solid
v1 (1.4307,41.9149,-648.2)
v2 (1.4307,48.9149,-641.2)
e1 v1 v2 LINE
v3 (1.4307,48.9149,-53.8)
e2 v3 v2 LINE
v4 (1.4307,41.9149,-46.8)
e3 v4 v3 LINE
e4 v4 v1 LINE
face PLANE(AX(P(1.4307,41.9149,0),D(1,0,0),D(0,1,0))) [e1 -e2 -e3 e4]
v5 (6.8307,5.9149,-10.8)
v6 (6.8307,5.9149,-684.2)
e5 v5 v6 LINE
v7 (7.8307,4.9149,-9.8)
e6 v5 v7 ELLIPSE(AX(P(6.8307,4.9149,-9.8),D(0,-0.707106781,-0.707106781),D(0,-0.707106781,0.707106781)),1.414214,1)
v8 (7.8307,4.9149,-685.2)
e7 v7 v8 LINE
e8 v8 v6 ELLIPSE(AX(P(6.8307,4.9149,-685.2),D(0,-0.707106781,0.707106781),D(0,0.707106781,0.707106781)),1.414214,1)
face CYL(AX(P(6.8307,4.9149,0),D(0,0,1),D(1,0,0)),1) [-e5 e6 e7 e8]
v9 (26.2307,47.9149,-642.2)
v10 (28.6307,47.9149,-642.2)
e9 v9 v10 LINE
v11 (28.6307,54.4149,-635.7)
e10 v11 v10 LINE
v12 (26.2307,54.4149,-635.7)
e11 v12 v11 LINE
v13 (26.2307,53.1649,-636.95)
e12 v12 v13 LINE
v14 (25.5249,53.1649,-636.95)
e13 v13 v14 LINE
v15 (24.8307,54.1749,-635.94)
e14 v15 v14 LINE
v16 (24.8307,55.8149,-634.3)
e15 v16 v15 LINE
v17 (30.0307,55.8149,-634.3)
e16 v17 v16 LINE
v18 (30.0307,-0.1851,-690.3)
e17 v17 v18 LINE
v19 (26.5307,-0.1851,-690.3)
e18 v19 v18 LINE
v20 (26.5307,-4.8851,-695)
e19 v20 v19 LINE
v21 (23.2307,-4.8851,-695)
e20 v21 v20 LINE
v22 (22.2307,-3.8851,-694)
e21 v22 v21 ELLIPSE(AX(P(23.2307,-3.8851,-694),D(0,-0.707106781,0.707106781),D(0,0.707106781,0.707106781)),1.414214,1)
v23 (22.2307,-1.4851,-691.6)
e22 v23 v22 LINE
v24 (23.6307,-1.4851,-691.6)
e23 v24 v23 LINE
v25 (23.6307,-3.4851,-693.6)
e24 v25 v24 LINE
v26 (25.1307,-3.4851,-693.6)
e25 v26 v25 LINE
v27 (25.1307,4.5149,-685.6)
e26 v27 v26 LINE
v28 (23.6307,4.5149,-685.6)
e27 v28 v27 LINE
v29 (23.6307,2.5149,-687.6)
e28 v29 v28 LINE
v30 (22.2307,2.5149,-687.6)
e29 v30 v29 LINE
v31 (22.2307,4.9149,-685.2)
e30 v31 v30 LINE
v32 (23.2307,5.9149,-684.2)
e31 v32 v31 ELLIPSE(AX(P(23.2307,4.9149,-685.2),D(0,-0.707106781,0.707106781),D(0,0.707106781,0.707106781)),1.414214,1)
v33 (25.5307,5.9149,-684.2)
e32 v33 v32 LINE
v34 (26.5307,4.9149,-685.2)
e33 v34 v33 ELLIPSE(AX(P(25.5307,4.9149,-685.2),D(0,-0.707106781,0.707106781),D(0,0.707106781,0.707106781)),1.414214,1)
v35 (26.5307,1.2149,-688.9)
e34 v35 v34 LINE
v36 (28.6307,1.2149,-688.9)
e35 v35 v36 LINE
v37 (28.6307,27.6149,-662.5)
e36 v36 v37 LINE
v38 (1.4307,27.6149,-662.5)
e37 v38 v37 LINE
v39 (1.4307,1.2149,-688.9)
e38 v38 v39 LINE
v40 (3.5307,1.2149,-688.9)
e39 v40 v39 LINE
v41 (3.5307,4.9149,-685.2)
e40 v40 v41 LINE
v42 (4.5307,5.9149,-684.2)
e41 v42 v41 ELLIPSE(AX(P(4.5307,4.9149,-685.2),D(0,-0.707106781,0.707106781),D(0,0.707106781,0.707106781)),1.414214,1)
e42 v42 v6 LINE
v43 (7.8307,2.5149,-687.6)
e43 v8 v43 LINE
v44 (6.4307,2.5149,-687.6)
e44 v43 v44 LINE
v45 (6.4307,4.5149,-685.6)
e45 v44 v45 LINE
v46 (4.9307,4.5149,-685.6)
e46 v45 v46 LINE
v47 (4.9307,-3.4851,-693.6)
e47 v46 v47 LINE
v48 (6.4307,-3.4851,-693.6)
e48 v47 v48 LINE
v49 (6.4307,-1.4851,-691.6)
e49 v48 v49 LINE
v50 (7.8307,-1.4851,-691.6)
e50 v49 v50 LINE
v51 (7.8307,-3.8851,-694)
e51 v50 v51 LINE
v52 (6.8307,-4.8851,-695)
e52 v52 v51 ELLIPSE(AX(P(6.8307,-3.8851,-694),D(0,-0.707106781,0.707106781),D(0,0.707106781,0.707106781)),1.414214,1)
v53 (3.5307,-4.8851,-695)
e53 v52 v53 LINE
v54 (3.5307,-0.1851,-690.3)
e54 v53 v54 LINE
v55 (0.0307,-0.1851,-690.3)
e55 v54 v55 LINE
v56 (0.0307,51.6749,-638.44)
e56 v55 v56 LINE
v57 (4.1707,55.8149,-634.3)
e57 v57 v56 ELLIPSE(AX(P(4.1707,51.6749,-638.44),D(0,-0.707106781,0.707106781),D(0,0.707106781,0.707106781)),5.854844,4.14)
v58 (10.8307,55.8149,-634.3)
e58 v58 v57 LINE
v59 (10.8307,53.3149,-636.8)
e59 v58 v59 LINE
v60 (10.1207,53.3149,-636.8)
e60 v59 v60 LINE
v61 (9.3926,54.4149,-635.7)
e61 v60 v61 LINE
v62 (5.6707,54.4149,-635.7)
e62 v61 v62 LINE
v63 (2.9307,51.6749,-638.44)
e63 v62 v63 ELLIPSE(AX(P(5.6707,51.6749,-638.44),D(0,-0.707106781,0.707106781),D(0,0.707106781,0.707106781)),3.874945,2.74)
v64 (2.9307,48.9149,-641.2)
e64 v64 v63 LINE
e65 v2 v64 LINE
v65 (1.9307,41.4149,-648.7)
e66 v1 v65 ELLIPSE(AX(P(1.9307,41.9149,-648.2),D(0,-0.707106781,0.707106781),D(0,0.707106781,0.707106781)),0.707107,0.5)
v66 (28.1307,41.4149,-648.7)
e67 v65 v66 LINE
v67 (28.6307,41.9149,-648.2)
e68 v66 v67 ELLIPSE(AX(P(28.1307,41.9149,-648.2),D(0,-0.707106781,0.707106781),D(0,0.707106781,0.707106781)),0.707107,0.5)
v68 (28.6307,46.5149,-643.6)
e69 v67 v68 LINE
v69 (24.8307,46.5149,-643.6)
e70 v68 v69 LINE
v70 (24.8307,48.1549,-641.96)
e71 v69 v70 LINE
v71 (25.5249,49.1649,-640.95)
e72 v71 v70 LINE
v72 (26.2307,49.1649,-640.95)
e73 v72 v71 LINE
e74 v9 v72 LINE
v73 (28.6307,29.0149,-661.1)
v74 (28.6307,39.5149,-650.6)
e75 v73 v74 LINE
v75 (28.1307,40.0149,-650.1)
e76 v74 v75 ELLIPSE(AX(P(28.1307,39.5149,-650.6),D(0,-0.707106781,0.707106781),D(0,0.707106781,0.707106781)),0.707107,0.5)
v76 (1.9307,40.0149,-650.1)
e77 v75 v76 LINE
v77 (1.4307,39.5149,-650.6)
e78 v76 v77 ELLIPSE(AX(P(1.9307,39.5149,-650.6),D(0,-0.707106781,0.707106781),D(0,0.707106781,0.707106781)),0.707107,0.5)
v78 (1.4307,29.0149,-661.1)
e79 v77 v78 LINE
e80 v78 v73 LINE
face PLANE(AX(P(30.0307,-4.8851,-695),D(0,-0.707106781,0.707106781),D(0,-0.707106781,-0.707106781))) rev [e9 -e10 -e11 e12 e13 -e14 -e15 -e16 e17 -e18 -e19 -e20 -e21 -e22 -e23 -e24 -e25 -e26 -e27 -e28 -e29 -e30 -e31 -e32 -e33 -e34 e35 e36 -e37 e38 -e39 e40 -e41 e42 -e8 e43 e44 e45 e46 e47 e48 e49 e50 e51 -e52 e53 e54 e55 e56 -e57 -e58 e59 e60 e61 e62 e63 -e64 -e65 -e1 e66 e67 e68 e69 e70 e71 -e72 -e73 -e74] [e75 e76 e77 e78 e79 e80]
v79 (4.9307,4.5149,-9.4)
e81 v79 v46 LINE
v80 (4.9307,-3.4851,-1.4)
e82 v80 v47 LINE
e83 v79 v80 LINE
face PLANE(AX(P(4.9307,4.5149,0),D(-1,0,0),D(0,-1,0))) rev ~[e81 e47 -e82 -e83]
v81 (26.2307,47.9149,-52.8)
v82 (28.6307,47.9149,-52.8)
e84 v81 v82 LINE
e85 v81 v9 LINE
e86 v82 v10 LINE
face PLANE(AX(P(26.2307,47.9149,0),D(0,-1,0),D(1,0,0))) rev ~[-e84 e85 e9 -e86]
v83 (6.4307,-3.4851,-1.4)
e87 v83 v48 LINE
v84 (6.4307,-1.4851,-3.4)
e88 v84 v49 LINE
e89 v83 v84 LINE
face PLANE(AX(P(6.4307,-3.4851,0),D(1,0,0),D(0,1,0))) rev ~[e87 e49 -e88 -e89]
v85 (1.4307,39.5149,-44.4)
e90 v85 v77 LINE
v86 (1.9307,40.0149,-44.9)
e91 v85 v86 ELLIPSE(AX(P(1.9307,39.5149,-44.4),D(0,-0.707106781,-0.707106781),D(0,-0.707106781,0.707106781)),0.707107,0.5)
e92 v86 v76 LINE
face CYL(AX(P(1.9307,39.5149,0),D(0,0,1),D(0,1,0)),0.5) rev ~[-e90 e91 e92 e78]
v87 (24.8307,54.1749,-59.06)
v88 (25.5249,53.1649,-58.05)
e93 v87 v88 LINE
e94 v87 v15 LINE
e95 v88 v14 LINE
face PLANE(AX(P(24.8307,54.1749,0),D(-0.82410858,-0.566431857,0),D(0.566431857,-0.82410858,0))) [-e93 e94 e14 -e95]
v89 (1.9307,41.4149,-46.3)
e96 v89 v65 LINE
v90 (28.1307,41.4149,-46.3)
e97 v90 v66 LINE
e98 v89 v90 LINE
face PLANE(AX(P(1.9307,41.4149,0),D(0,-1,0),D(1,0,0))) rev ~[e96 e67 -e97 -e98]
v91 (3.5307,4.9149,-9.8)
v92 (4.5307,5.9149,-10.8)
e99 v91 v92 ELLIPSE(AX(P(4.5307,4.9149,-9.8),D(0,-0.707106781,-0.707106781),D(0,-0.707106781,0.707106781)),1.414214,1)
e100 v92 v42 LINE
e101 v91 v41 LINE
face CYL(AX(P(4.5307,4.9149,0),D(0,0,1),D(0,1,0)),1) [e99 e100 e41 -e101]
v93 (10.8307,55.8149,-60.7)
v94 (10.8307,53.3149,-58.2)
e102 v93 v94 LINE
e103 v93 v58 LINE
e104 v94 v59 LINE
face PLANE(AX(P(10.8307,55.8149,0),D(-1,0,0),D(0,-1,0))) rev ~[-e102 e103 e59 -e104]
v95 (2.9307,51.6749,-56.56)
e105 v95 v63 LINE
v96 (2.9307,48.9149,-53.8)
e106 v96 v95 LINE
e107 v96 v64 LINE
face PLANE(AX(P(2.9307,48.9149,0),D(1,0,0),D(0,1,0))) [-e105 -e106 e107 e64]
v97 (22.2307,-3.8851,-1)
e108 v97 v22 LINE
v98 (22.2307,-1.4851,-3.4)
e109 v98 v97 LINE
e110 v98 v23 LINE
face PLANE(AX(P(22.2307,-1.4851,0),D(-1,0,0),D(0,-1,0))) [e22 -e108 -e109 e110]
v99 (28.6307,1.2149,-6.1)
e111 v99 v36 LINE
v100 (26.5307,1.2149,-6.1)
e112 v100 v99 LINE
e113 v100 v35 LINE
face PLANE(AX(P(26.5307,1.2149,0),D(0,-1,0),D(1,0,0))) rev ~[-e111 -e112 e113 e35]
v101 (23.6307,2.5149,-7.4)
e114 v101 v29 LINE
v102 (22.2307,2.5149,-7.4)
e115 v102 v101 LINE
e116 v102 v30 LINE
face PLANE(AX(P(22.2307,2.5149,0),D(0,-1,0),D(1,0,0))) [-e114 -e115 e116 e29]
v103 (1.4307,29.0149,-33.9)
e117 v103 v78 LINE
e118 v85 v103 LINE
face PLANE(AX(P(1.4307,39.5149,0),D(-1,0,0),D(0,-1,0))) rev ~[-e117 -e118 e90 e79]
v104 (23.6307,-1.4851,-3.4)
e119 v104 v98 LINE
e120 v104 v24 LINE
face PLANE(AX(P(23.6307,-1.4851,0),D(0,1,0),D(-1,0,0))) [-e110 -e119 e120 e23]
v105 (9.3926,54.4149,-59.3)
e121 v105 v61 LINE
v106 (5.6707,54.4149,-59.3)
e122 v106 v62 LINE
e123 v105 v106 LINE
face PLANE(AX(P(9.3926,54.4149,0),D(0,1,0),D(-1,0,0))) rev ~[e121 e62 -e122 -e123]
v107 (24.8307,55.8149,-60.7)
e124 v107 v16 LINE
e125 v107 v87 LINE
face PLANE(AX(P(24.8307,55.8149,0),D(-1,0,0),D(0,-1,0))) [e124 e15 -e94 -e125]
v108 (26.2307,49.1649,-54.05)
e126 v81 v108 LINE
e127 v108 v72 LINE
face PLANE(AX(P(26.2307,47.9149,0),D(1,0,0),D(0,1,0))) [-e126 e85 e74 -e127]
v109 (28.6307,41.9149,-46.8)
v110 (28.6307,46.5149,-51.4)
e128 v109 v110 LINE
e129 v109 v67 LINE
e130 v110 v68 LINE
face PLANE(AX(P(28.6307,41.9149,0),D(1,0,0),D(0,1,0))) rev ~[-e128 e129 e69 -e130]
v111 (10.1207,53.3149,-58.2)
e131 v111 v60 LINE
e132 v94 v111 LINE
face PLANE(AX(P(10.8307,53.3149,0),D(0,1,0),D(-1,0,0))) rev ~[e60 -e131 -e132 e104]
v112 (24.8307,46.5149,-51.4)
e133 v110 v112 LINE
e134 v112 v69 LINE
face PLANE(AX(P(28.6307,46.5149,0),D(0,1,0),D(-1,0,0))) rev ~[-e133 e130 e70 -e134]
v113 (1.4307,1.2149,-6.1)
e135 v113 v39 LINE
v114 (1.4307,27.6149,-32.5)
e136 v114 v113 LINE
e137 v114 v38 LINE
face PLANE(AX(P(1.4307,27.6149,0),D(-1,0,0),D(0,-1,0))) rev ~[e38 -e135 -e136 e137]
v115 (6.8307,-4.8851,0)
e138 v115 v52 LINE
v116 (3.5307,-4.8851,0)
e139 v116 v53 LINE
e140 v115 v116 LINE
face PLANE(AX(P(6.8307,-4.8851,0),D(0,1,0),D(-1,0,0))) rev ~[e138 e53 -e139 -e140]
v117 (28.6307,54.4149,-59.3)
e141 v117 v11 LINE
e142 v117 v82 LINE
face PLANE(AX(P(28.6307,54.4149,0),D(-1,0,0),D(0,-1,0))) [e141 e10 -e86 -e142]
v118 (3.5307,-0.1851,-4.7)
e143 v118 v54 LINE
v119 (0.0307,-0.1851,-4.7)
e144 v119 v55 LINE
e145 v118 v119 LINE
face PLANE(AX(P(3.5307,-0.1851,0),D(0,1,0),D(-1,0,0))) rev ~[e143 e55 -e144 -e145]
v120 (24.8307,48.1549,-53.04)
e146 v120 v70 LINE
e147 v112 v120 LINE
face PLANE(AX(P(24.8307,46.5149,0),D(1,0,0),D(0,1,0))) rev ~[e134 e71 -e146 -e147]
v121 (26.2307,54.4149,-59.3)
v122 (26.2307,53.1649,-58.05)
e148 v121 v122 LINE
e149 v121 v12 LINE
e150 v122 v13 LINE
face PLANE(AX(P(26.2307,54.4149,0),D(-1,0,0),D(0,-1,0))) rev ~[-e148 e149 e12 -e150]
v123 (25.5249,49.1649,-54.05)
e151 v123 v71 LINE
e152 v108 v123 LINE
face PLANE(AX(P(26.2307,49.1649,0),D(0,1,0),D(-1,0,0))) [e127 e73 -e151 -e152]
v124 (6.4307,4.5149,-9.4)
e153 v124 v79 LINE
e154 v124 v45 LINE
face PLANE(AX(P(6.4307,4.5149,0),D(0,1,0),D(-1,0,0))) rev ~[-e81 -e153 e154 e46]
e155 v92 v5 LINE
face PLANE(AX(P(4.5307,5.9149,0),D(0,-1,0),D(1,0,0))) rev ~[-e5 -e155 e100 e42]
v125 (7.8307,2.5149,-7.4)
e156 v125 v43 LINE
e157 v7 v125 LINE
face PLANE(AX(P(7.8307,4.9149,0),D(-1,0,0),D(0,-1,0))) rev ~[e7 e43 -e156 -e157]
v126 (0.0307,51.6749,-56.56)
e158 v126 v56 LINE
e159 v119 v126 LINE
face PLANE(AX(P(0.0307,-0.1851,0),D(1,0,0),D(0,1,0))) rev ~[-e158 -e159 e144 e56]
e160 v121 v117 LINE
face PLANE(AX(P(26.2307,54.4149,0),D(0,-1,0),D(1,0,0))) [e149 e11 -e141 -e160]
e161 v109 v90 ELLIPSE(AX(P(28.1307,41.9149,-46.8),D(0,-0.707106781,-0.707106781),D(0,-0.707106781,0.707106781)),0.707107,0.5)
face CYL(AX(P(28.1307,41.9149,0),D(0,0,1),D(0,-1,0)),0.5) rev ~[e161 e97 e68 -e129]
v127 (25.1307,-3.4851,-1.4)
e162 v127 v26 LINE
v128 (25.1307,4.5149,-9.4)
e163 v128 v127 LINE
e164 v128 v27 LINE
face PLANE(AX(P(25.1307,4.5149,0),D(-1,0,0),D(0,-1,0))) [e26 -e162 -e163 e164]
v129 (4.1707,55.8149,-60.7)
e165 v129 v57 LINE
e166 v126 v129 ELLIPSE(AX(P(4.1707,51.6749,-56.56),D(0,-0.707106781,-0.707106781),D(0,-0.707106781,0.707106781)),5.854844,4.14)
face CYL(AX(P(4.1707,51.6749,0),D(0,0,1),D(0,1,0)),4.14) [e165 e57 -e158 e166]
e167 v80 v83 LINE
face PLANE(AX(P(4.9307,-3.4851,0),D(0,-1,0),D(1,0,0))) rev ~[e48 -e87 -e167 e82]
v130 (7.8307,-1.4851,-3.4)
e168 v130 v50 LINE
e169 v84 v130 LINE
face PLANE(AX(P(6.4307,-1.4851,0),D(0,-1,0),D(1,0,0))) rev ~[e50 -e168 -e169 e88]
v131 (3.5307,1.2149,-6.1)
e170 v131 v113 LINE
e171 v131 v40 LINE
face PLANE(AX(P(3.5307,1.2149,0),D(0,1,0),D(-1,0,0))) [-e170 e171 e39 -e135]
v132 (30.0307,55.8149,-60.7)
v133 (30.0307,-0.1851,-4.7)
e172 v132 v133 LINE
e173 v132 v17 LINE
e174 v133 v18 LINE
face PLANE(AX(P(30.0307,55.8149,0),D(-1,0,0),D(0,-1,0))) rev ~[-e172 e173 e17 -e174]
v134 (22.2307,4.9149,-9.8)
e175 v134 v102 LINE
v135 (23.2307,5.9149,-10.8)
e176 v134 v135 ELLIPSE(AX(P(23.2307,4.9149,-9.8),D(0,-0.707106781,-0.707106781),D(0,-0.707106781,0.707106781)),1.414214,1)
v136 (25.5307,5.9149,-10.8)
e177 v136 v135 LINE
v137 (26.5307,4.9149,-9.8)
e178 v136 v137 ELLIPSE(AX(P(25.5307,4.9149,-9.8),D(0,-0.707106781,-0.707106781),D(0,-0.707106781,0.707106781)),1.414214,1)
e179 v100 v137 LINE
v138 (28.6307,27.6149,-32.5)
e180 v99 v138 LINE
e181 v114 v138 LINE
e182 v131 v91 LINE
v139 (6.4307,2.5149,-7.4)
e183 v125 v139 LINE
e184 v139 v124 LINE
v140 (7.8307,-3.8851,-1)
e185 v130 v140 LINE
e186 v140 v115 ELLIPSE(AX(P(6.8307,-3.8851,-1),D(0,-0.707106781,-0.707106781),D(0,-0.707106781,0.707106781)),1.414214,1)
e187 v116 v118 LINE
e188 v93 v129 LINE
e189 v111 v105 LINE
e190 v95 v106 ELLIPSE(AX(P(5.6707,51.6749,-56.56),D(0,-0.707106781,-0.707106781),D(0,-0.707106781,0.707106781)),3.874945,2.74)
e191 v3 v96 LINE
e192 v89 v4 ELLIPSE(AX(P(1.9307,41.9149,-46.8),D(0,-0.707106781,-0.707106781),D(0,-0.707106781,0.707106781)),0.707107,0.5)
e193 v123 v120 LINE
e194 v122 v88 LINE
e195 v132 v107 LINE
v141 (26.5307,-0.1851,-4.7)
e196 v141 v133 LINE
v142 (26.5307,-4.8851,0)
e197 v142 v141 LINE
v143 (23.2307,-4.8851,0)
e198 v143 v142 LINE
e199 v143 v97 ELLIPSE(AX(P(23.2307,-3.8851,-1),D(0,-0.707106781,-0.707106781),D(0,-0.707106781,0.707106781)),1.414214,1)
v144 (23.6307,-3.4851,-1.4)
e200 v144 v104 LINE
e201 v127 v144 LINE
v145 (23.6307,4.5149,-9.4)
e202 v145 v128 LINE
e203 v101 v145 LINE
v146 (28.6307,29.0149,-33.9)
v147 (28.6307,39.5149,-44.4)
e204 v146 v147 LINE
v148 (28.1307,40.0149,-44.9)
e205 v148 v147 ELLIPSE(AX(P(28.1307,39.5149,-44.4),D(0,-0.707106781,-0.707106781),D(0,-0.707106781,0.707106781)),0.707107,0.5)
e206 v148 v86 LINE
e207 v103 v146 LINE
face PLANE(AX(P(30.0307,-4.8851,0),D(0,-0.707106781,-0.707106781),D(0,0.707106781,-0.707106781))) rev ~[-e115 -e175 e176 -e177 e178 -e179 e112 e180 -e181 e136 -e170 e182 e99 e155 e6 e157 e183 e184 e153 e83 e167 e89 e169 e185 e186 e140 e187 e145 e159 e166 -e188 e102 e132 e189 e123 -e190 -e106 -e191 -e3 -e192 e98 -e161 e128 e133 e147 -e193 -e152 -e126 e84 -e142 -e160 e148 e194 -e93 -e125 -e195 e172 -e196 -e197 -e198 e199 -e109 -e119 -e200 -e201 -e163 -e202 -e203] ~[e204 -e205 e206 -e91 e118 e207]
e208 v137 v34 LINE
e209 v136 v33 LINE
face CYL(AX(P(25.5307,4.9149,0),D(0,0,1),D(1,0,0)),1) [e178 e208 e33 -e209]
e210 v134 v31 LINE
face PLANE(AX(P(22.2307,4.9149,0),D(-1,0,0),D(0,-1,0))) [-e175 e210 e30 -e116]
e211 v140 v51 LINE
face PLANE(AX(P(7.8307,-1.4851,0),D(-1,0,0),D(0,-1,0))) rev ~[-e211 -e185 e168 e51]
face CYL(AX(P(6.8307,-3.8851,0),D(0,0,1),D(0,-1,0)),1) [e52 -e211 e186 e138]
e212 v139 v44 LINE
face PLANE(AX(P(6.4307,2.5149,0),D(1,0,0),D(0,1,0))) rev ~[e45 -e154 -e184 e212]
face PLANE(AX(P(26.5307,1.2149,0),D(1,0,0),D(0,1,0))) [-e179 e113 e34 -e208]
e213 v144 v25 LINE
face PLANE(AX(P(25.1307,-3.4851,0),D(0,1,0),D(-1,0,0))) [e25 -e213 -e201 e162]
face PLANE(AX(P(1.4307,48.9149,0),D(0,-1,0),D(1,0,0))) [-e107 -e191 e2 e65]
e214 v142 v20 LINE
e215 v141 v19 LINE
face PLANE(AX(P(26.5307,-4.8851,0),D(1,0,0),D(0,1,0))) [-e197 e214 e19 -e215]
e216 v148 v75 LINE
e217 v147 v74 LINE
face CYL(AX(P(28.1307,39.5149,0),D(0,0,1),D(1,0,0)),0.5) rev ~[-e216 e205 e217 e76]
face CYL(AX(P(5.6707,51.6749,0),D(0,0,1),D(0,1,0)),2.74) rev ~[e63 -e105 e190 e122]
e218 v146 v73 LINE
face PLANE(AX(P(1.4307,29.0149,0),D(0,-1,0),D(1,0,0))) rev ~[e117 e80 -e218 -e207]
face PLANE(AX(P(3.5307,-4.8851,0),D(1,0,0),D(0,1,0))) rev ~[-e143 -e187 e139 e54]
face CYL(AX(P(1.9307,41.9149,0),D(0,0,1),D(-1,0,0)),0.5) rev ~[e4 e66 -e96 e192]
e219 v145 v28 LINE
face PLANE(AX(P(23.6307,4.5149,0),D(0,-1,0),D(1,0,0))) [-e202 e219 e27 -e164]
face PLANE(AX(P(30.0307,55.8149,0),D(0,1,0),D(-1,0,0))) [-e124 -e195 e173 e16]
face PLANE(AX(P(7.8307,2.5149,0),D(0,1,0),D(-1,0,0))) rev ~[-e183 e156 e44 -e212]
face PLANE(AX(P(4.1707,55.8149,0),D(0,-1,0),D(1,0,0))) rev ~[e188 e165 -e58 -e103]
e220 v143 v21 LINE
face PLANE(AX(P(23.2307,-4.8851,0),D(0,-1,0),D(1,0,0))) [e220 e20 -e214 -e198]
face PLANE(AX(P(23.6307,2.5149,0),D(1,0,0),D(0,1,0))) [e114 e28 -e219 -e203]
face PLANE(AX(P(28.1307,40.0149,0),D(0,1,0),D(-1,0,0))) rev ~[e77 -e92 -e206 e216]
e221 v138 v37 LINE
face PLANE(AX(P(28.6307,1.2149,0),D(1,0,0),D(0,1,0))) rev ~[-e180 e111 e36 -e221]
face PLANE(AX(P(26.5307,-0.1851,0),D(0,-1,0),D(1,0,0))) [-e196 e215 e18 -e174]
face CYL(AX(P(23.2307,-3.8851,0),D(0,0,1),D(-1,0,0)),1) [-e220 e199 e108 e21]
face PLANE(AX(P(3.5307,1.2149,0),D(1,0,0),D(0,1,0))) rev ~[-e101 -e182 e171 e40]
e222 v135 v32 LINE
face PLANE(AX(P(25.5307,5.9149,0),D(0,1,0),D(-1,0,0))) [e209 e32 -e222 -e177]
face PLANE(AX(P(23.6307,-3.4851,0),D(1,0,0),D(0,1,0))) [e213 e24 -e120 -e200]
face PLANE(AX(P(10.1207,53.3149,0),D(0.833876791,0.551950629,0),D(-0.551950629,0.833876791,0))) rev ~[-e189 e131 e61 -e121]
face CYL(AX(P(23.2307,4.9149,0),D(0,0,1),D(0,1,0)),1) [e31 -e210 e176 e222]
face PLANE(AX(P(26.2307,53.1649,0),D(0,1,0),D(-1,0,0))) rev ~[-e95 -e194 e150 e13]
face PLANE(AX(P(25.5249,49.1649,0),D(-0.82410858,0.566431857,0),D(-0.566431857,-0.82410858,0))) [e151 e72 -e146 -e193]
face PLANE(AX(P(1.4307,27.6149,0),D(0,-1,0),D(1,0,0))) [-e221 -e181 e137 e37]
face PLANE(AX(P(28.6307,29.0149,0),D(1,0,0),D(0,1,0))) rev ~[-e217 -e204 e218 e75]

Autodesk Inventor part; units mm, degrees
ref_plane "YZ Plane" through (0, 0, 0) normal (1, 0, 0) x (0, 1, 0)
ref_plane "XZ Plane" through (0, 0, 0) normal (0, 1, 0) x (-1, 0, 0)
sketch "Boceto1" plane through (0, 0, 0) normal (0, 0, 1) x (1, 0, 0)
  line L0 (28.1307, 40.0149) -> (1.9307, 40.0149)
  line L1 (1.9307, 41.4149) -> (28.1307, 41.4149)
  line L2 (0.0307, -0.1851) -> (0.0307, 51.6749)
  line L3 (24.8307, 55.8149) -> (24.8307, 54.1749)
  line L4 (28.6307, 54.4149) -> (28.6307, 47.9149)
  line L5 (28.6307, 46.5149) -> (24.8307, 46.5149)
  line L6 (24.8307, 46.5149) -> (24.8307, 48.1549)
  line L7 (26.2307, 47.9149) -> (28.6307, 47.9149)
  line L8 (26.2307, 49.1649) -> (25.5249, 49.1649)
  line L9 (25.5249, 49.1649) -> (24.8307, 48.1549)
  line L10 (26.2307, 53.1649) -> (25.5249, 53.1649)
  line L11 (1.4307, 41.9149) -> (1.4307, 48.9149)
  line L12 (1.4307, 48.9149) -> (2.9307, 48.9149)
  line L13 (2.9307, 48.9149) -> (2.9307, 51.6749)
  line L14 (4.1707, 55.8149) -> (10.8307, 55.8149)
  line L15 (9.3926, 54.4149) -> (5.6707, 54.4149)
  line L16 (10.8307, 55.8149) -> (10.8307, 53.3149)
  line L17 (10.8307, 53.3149) -> (10.1207, 53.3149)
  line L18 (10.1207, 53.3149) -> (9.3926, 54.4149)
  line L19 (26.2307, 54.4149) -> (28.6307, 54.4149)
  arc A0 (5.6707, 54.4149) -> (2.9307, 51.6749) centre (5.6707, 51.6749) ccw
  arc A1 (4.1707, 55.8149) -> (0.0307, 51.6749) centre (4.1707, 51.6749) ccw
  line L20 (24.8307, 54.1749) -> (25.5249, 53.1649)
  line L21 (26.2307, 54.4149) -> (26.2307, 53.1649)
  line L22 (26.2307, 47.9149) -> (26.2307, 49.1649)
  arc A2 (1.9307, 40.0149) -> (1.4307, 39.5149) centre (1.9307, 39.5149) ccw
  arc A3 (28.6307, 39.5149) -> (28.1307, 40.0149) centre (28.1307, 39.5149) ccw
  arc A4 (28.1307, 41.4149) -> (28.6307, 41.9149) centre (28.1307, 41.9149) ccw
  arc A5 (1.4307, 41.9149) -> (1.9307, 41.4149) centre (1.9307, 41.9149) ccw
  line L23 (30.0307, 55.8149) -> (24.8307, 55.8149)
  line L24 (28.6307, 41.9149) -> (28.6307, 46.5149)
  line L25 (30.0307, 55.8149) -> (30.0307, -0.1851)
  line L26 (1.4307, 29.0149) -> (28.6307, 29.0149)
  line L27 (1.4307, 27.6149) -> (28.6307, 27.6149)
  line L28 (1.4307, 39.5149) -> (1.4307, 29.0149)
  line L29 (1.4307, 27.6149) -> (1.4307, 1.2149)
  line L30 (28.6307, 1.2149) -> (28.6307, 27.6149)
  line L31 (28.6307, 29.0149) -> (28.6307, 39.5149)
  line L32 (28.6307, 39.5149) -> (28.6307, 29.0149)
  line L33 (28.6307, 27.6149) -> (28.6307, 1.2149)
  line L34 (4.5307, 5.9149) -> (6.8307, 5.9149)
  line L35 (7.8307, 4.9149) -> (7.8307, 2.5149)
  line L36 (7.8307, 2.5149) -> (6.4307, 2.5149)
  line L37 (6.4307, 2.5149) -> (6.4307, 4.5149)
  line L38 (6.4307, 4.5149) -> (4.9307, 4.5149)
  line L39 (4.9307, 4.5149) -> (4.9307, -3.4851)
  line L40 (4.9307, -3.4851) -> (6.4307, -3.4851)
  line L41 (6.4307, -3.4851) -> (6.4307, -1.4851)
  line L42 (6.4307, -1.4851) -> (7.8307, -1.4851)
  line L43 (7.8307, -1.4851) -> (7.8307, -3.8851)
  line L44 (6.8307, -4.8851) -> (3.5307, -4.8851)
  line L45 (3.5307, -4.8851) -> (3.5307, -0.1851)
  arc A6 (7.8307, 4.9149) -> (6.8307, 5.9149) centre (6.8307, 4.9149) ccw
  arc A7 (4.5307, 5.9149) -> (3.5307, 4.9149) centre (4.5307, 4.9149) ccw
  arc A8 (6.8307, -4.8851) -> (7.8307, -3.8851) centre (6.8307, -3.8851) ccw
  line L46 (3.5307, 1.2149) -> (1.4307, 1.2149)
  line L47 (3.5307, -0.1851) -> (0.0307, -0.1851)
  line L48 (3.5307, 1.2149) -> (3.5307, 4.9149)
  line L49 (25.5307, 5.9149) -> (23.2307, 5.9149)
  line L50 (22.2307, 4.9149) -> (22.2307, 2.5149)
  line L51 (22.2307, 2.5149) -> (23.6307, 2.5149)
  line L52 (23.6307, 2.5149) -> (23.6307, 4.5149)
  line L53 (23.6307, 4.5149) -> (25.1307, 4.5149)
  line L54 (25.1307, 4.5149) -> (25.1307, -3.4851)
  line L55 (25.1307, -3.4851) -> (23.6307, -3.4851)
  line L56 (23.6307, -3.4851) -> (23.6307, -1.4851)
  line L57 (23.6307, -1.4851) -> (22.2307, -1.4851)
  line L58 (22.2307, -1.4851) -> (22.2307, -3.8851)
  line L59 (23.2307, -4.8851) -> (26.5307, -4.8851)
  line L60 (26.5307, -4.8851) -> (26.5307, -0.1851)
  arc A9 (23.2307, 5.9149) -> (22.2307, 4.9149) centre (23.2307, 4.9149) ccw
  arc A10 (26.5307, 4.9149) -> (25.5307, 5.9149) centre (25.5307, 4.9149) ccw
  arc A11 (22.2307, -3.8851) -> (23.2307, -4.8851) centre (23.2307, -3.8851) ccw
  line L61 (26.5307, 1.2149) -> (28.6307, 1.2149)
  line L62 (26.5307, -0.1851) -> (30.0307, -0.1851)
  line L63 (26.5307, 1.2149) -> (26.5307, 4.9149)
  point P0 (28.6307, 51.1649)
  point P1 (0.0307, 0.7149)
  point P2 (4.9307, 0.5149)
  point P3 (25.1307, 0.5149)
  dimension "d31" = 1.4
  dimension "d42" = 2.5
  dimension "d43" = 0.71
  dimension "d45" = 2.9
  dimension "d47" = 33.5
  dimension "d48" = 7.5
  dimension "d51" = 2.74
  dimension "d59" = 6.9
  dimension "d60" = 1.4
  dimension "d78" = 6.5
  dimension "d84" = 1.4
  dimension "d85" = 1.4
  dimension "d88" = 2.4
  dimension "d95" = 6.02
  dimension "d99" = 111
  dimension "d100" = 2.4
  dimension "d108" = 4
  dimension "d109" = 0.7058
  dimension "d110" = 0.7058
  dimension "d143" = 1.4
  dimension "d147" = 1.4
  dimension "d148" = 30
  dimension "d149" = 1.4
  dimension "d150" = 14
  dimension "d151" = 27.2
  dimension "d152" = 14.4
  dimension "d153" = 1.4
  dimension "d154" = 11
  dimension "d155" = 1.4
  dimension "d156" = 1.4
  dimension "d157" = 1.4
  dimension "d158" = 1.4
  dimension "d162" = 60.7
  dimension "d163" = 10.8
  dimension "d164" = 8
  dimension "d165" = 2
  dimension "d166" = 4
  dimension "d167" = 1.5
  dimension "d168" = 7.8
  dimension "d169" = 1
  dimension "d172" = 1.4
  dimension "d173" = 4.7
  dimension "d175" = 56
  dimension "d176" = 13.8
  dimension "d177" = 14.4
  dimension "d180" = 1.5
  dimension "d181" = 4.14
  dimension "d182" = 10.8
  dimension "d183" = 14.4
  dimension "d184" = 0.5
  dimension "d187" = 3.5
  dimension "d188" = 4.9
  dimension "d189" = 6.4
  dimension "d190" = 7.8
  dimension "d191" = 26.5
  dimension "d193" = 54.6
  dimension "d195" = 3.5
  dimension "d196" = 4.9
  dimension "d197" = 53.9
  dimension "d198" = 53.7
  dimension "d202" = 2
  dimension "d203" = 3.01
  dimension "d204" = 2
  dimension "d205" = 9.3
extrude "Extrusión1" add sketch "Boceto1" against normal blind 695
ref_plane "Plano de trabajo1" through (0, 0, -347.5) normal (0, 0, 1) x (1, 0, 0)
sketch "Boceto2" plane through (30.0307, -0.1851, 0) normal (1, 0, 0) x (0, 0, -1)
  line L0 (0, -4.7) -> (0, 0) projected
  line L1 (0, -4.7) -> (695, -4.7) projected
  line L2 (695, 0) -> (695, -4.7) projected
  line L3 (0, 0) -> (695, 0) projected
  line L4 (0, 0) -> (0, 56) projected
  line L5 (0, 0) -> (695, 0) projected
  line L6 (695, 56) -> (695, 0) projected
  line L7 (0, 56) -> (695, 56) projected
  line L8 (0, -4.7) -> (60.7, 56)
  line L9 (0, 56) -> (60.7, 56)
  line L10 (0, 56) -> (0, -4.7)
  point P0 (0, 0.1851)
  point P1 (0, 0)
  dimension "d201" = 45
extrude "Extrusión2" cut sketch "Boceto2" against normal through all contours L0 L3 L8 | L4 L7 L8 L3
mirror "Simetría1" about plane through (0, 0, -347.5) normal (0, 0, 1) of "Extrusión2"
ref_plane "Plano de trabajo2" through (15.0307, -0.1851, -4.7) normal (1, 0, 0) x (0, 0, -1)
properties part number "SP40-10 HOJA CORREDERA 695 mm" material "Aluminio"
